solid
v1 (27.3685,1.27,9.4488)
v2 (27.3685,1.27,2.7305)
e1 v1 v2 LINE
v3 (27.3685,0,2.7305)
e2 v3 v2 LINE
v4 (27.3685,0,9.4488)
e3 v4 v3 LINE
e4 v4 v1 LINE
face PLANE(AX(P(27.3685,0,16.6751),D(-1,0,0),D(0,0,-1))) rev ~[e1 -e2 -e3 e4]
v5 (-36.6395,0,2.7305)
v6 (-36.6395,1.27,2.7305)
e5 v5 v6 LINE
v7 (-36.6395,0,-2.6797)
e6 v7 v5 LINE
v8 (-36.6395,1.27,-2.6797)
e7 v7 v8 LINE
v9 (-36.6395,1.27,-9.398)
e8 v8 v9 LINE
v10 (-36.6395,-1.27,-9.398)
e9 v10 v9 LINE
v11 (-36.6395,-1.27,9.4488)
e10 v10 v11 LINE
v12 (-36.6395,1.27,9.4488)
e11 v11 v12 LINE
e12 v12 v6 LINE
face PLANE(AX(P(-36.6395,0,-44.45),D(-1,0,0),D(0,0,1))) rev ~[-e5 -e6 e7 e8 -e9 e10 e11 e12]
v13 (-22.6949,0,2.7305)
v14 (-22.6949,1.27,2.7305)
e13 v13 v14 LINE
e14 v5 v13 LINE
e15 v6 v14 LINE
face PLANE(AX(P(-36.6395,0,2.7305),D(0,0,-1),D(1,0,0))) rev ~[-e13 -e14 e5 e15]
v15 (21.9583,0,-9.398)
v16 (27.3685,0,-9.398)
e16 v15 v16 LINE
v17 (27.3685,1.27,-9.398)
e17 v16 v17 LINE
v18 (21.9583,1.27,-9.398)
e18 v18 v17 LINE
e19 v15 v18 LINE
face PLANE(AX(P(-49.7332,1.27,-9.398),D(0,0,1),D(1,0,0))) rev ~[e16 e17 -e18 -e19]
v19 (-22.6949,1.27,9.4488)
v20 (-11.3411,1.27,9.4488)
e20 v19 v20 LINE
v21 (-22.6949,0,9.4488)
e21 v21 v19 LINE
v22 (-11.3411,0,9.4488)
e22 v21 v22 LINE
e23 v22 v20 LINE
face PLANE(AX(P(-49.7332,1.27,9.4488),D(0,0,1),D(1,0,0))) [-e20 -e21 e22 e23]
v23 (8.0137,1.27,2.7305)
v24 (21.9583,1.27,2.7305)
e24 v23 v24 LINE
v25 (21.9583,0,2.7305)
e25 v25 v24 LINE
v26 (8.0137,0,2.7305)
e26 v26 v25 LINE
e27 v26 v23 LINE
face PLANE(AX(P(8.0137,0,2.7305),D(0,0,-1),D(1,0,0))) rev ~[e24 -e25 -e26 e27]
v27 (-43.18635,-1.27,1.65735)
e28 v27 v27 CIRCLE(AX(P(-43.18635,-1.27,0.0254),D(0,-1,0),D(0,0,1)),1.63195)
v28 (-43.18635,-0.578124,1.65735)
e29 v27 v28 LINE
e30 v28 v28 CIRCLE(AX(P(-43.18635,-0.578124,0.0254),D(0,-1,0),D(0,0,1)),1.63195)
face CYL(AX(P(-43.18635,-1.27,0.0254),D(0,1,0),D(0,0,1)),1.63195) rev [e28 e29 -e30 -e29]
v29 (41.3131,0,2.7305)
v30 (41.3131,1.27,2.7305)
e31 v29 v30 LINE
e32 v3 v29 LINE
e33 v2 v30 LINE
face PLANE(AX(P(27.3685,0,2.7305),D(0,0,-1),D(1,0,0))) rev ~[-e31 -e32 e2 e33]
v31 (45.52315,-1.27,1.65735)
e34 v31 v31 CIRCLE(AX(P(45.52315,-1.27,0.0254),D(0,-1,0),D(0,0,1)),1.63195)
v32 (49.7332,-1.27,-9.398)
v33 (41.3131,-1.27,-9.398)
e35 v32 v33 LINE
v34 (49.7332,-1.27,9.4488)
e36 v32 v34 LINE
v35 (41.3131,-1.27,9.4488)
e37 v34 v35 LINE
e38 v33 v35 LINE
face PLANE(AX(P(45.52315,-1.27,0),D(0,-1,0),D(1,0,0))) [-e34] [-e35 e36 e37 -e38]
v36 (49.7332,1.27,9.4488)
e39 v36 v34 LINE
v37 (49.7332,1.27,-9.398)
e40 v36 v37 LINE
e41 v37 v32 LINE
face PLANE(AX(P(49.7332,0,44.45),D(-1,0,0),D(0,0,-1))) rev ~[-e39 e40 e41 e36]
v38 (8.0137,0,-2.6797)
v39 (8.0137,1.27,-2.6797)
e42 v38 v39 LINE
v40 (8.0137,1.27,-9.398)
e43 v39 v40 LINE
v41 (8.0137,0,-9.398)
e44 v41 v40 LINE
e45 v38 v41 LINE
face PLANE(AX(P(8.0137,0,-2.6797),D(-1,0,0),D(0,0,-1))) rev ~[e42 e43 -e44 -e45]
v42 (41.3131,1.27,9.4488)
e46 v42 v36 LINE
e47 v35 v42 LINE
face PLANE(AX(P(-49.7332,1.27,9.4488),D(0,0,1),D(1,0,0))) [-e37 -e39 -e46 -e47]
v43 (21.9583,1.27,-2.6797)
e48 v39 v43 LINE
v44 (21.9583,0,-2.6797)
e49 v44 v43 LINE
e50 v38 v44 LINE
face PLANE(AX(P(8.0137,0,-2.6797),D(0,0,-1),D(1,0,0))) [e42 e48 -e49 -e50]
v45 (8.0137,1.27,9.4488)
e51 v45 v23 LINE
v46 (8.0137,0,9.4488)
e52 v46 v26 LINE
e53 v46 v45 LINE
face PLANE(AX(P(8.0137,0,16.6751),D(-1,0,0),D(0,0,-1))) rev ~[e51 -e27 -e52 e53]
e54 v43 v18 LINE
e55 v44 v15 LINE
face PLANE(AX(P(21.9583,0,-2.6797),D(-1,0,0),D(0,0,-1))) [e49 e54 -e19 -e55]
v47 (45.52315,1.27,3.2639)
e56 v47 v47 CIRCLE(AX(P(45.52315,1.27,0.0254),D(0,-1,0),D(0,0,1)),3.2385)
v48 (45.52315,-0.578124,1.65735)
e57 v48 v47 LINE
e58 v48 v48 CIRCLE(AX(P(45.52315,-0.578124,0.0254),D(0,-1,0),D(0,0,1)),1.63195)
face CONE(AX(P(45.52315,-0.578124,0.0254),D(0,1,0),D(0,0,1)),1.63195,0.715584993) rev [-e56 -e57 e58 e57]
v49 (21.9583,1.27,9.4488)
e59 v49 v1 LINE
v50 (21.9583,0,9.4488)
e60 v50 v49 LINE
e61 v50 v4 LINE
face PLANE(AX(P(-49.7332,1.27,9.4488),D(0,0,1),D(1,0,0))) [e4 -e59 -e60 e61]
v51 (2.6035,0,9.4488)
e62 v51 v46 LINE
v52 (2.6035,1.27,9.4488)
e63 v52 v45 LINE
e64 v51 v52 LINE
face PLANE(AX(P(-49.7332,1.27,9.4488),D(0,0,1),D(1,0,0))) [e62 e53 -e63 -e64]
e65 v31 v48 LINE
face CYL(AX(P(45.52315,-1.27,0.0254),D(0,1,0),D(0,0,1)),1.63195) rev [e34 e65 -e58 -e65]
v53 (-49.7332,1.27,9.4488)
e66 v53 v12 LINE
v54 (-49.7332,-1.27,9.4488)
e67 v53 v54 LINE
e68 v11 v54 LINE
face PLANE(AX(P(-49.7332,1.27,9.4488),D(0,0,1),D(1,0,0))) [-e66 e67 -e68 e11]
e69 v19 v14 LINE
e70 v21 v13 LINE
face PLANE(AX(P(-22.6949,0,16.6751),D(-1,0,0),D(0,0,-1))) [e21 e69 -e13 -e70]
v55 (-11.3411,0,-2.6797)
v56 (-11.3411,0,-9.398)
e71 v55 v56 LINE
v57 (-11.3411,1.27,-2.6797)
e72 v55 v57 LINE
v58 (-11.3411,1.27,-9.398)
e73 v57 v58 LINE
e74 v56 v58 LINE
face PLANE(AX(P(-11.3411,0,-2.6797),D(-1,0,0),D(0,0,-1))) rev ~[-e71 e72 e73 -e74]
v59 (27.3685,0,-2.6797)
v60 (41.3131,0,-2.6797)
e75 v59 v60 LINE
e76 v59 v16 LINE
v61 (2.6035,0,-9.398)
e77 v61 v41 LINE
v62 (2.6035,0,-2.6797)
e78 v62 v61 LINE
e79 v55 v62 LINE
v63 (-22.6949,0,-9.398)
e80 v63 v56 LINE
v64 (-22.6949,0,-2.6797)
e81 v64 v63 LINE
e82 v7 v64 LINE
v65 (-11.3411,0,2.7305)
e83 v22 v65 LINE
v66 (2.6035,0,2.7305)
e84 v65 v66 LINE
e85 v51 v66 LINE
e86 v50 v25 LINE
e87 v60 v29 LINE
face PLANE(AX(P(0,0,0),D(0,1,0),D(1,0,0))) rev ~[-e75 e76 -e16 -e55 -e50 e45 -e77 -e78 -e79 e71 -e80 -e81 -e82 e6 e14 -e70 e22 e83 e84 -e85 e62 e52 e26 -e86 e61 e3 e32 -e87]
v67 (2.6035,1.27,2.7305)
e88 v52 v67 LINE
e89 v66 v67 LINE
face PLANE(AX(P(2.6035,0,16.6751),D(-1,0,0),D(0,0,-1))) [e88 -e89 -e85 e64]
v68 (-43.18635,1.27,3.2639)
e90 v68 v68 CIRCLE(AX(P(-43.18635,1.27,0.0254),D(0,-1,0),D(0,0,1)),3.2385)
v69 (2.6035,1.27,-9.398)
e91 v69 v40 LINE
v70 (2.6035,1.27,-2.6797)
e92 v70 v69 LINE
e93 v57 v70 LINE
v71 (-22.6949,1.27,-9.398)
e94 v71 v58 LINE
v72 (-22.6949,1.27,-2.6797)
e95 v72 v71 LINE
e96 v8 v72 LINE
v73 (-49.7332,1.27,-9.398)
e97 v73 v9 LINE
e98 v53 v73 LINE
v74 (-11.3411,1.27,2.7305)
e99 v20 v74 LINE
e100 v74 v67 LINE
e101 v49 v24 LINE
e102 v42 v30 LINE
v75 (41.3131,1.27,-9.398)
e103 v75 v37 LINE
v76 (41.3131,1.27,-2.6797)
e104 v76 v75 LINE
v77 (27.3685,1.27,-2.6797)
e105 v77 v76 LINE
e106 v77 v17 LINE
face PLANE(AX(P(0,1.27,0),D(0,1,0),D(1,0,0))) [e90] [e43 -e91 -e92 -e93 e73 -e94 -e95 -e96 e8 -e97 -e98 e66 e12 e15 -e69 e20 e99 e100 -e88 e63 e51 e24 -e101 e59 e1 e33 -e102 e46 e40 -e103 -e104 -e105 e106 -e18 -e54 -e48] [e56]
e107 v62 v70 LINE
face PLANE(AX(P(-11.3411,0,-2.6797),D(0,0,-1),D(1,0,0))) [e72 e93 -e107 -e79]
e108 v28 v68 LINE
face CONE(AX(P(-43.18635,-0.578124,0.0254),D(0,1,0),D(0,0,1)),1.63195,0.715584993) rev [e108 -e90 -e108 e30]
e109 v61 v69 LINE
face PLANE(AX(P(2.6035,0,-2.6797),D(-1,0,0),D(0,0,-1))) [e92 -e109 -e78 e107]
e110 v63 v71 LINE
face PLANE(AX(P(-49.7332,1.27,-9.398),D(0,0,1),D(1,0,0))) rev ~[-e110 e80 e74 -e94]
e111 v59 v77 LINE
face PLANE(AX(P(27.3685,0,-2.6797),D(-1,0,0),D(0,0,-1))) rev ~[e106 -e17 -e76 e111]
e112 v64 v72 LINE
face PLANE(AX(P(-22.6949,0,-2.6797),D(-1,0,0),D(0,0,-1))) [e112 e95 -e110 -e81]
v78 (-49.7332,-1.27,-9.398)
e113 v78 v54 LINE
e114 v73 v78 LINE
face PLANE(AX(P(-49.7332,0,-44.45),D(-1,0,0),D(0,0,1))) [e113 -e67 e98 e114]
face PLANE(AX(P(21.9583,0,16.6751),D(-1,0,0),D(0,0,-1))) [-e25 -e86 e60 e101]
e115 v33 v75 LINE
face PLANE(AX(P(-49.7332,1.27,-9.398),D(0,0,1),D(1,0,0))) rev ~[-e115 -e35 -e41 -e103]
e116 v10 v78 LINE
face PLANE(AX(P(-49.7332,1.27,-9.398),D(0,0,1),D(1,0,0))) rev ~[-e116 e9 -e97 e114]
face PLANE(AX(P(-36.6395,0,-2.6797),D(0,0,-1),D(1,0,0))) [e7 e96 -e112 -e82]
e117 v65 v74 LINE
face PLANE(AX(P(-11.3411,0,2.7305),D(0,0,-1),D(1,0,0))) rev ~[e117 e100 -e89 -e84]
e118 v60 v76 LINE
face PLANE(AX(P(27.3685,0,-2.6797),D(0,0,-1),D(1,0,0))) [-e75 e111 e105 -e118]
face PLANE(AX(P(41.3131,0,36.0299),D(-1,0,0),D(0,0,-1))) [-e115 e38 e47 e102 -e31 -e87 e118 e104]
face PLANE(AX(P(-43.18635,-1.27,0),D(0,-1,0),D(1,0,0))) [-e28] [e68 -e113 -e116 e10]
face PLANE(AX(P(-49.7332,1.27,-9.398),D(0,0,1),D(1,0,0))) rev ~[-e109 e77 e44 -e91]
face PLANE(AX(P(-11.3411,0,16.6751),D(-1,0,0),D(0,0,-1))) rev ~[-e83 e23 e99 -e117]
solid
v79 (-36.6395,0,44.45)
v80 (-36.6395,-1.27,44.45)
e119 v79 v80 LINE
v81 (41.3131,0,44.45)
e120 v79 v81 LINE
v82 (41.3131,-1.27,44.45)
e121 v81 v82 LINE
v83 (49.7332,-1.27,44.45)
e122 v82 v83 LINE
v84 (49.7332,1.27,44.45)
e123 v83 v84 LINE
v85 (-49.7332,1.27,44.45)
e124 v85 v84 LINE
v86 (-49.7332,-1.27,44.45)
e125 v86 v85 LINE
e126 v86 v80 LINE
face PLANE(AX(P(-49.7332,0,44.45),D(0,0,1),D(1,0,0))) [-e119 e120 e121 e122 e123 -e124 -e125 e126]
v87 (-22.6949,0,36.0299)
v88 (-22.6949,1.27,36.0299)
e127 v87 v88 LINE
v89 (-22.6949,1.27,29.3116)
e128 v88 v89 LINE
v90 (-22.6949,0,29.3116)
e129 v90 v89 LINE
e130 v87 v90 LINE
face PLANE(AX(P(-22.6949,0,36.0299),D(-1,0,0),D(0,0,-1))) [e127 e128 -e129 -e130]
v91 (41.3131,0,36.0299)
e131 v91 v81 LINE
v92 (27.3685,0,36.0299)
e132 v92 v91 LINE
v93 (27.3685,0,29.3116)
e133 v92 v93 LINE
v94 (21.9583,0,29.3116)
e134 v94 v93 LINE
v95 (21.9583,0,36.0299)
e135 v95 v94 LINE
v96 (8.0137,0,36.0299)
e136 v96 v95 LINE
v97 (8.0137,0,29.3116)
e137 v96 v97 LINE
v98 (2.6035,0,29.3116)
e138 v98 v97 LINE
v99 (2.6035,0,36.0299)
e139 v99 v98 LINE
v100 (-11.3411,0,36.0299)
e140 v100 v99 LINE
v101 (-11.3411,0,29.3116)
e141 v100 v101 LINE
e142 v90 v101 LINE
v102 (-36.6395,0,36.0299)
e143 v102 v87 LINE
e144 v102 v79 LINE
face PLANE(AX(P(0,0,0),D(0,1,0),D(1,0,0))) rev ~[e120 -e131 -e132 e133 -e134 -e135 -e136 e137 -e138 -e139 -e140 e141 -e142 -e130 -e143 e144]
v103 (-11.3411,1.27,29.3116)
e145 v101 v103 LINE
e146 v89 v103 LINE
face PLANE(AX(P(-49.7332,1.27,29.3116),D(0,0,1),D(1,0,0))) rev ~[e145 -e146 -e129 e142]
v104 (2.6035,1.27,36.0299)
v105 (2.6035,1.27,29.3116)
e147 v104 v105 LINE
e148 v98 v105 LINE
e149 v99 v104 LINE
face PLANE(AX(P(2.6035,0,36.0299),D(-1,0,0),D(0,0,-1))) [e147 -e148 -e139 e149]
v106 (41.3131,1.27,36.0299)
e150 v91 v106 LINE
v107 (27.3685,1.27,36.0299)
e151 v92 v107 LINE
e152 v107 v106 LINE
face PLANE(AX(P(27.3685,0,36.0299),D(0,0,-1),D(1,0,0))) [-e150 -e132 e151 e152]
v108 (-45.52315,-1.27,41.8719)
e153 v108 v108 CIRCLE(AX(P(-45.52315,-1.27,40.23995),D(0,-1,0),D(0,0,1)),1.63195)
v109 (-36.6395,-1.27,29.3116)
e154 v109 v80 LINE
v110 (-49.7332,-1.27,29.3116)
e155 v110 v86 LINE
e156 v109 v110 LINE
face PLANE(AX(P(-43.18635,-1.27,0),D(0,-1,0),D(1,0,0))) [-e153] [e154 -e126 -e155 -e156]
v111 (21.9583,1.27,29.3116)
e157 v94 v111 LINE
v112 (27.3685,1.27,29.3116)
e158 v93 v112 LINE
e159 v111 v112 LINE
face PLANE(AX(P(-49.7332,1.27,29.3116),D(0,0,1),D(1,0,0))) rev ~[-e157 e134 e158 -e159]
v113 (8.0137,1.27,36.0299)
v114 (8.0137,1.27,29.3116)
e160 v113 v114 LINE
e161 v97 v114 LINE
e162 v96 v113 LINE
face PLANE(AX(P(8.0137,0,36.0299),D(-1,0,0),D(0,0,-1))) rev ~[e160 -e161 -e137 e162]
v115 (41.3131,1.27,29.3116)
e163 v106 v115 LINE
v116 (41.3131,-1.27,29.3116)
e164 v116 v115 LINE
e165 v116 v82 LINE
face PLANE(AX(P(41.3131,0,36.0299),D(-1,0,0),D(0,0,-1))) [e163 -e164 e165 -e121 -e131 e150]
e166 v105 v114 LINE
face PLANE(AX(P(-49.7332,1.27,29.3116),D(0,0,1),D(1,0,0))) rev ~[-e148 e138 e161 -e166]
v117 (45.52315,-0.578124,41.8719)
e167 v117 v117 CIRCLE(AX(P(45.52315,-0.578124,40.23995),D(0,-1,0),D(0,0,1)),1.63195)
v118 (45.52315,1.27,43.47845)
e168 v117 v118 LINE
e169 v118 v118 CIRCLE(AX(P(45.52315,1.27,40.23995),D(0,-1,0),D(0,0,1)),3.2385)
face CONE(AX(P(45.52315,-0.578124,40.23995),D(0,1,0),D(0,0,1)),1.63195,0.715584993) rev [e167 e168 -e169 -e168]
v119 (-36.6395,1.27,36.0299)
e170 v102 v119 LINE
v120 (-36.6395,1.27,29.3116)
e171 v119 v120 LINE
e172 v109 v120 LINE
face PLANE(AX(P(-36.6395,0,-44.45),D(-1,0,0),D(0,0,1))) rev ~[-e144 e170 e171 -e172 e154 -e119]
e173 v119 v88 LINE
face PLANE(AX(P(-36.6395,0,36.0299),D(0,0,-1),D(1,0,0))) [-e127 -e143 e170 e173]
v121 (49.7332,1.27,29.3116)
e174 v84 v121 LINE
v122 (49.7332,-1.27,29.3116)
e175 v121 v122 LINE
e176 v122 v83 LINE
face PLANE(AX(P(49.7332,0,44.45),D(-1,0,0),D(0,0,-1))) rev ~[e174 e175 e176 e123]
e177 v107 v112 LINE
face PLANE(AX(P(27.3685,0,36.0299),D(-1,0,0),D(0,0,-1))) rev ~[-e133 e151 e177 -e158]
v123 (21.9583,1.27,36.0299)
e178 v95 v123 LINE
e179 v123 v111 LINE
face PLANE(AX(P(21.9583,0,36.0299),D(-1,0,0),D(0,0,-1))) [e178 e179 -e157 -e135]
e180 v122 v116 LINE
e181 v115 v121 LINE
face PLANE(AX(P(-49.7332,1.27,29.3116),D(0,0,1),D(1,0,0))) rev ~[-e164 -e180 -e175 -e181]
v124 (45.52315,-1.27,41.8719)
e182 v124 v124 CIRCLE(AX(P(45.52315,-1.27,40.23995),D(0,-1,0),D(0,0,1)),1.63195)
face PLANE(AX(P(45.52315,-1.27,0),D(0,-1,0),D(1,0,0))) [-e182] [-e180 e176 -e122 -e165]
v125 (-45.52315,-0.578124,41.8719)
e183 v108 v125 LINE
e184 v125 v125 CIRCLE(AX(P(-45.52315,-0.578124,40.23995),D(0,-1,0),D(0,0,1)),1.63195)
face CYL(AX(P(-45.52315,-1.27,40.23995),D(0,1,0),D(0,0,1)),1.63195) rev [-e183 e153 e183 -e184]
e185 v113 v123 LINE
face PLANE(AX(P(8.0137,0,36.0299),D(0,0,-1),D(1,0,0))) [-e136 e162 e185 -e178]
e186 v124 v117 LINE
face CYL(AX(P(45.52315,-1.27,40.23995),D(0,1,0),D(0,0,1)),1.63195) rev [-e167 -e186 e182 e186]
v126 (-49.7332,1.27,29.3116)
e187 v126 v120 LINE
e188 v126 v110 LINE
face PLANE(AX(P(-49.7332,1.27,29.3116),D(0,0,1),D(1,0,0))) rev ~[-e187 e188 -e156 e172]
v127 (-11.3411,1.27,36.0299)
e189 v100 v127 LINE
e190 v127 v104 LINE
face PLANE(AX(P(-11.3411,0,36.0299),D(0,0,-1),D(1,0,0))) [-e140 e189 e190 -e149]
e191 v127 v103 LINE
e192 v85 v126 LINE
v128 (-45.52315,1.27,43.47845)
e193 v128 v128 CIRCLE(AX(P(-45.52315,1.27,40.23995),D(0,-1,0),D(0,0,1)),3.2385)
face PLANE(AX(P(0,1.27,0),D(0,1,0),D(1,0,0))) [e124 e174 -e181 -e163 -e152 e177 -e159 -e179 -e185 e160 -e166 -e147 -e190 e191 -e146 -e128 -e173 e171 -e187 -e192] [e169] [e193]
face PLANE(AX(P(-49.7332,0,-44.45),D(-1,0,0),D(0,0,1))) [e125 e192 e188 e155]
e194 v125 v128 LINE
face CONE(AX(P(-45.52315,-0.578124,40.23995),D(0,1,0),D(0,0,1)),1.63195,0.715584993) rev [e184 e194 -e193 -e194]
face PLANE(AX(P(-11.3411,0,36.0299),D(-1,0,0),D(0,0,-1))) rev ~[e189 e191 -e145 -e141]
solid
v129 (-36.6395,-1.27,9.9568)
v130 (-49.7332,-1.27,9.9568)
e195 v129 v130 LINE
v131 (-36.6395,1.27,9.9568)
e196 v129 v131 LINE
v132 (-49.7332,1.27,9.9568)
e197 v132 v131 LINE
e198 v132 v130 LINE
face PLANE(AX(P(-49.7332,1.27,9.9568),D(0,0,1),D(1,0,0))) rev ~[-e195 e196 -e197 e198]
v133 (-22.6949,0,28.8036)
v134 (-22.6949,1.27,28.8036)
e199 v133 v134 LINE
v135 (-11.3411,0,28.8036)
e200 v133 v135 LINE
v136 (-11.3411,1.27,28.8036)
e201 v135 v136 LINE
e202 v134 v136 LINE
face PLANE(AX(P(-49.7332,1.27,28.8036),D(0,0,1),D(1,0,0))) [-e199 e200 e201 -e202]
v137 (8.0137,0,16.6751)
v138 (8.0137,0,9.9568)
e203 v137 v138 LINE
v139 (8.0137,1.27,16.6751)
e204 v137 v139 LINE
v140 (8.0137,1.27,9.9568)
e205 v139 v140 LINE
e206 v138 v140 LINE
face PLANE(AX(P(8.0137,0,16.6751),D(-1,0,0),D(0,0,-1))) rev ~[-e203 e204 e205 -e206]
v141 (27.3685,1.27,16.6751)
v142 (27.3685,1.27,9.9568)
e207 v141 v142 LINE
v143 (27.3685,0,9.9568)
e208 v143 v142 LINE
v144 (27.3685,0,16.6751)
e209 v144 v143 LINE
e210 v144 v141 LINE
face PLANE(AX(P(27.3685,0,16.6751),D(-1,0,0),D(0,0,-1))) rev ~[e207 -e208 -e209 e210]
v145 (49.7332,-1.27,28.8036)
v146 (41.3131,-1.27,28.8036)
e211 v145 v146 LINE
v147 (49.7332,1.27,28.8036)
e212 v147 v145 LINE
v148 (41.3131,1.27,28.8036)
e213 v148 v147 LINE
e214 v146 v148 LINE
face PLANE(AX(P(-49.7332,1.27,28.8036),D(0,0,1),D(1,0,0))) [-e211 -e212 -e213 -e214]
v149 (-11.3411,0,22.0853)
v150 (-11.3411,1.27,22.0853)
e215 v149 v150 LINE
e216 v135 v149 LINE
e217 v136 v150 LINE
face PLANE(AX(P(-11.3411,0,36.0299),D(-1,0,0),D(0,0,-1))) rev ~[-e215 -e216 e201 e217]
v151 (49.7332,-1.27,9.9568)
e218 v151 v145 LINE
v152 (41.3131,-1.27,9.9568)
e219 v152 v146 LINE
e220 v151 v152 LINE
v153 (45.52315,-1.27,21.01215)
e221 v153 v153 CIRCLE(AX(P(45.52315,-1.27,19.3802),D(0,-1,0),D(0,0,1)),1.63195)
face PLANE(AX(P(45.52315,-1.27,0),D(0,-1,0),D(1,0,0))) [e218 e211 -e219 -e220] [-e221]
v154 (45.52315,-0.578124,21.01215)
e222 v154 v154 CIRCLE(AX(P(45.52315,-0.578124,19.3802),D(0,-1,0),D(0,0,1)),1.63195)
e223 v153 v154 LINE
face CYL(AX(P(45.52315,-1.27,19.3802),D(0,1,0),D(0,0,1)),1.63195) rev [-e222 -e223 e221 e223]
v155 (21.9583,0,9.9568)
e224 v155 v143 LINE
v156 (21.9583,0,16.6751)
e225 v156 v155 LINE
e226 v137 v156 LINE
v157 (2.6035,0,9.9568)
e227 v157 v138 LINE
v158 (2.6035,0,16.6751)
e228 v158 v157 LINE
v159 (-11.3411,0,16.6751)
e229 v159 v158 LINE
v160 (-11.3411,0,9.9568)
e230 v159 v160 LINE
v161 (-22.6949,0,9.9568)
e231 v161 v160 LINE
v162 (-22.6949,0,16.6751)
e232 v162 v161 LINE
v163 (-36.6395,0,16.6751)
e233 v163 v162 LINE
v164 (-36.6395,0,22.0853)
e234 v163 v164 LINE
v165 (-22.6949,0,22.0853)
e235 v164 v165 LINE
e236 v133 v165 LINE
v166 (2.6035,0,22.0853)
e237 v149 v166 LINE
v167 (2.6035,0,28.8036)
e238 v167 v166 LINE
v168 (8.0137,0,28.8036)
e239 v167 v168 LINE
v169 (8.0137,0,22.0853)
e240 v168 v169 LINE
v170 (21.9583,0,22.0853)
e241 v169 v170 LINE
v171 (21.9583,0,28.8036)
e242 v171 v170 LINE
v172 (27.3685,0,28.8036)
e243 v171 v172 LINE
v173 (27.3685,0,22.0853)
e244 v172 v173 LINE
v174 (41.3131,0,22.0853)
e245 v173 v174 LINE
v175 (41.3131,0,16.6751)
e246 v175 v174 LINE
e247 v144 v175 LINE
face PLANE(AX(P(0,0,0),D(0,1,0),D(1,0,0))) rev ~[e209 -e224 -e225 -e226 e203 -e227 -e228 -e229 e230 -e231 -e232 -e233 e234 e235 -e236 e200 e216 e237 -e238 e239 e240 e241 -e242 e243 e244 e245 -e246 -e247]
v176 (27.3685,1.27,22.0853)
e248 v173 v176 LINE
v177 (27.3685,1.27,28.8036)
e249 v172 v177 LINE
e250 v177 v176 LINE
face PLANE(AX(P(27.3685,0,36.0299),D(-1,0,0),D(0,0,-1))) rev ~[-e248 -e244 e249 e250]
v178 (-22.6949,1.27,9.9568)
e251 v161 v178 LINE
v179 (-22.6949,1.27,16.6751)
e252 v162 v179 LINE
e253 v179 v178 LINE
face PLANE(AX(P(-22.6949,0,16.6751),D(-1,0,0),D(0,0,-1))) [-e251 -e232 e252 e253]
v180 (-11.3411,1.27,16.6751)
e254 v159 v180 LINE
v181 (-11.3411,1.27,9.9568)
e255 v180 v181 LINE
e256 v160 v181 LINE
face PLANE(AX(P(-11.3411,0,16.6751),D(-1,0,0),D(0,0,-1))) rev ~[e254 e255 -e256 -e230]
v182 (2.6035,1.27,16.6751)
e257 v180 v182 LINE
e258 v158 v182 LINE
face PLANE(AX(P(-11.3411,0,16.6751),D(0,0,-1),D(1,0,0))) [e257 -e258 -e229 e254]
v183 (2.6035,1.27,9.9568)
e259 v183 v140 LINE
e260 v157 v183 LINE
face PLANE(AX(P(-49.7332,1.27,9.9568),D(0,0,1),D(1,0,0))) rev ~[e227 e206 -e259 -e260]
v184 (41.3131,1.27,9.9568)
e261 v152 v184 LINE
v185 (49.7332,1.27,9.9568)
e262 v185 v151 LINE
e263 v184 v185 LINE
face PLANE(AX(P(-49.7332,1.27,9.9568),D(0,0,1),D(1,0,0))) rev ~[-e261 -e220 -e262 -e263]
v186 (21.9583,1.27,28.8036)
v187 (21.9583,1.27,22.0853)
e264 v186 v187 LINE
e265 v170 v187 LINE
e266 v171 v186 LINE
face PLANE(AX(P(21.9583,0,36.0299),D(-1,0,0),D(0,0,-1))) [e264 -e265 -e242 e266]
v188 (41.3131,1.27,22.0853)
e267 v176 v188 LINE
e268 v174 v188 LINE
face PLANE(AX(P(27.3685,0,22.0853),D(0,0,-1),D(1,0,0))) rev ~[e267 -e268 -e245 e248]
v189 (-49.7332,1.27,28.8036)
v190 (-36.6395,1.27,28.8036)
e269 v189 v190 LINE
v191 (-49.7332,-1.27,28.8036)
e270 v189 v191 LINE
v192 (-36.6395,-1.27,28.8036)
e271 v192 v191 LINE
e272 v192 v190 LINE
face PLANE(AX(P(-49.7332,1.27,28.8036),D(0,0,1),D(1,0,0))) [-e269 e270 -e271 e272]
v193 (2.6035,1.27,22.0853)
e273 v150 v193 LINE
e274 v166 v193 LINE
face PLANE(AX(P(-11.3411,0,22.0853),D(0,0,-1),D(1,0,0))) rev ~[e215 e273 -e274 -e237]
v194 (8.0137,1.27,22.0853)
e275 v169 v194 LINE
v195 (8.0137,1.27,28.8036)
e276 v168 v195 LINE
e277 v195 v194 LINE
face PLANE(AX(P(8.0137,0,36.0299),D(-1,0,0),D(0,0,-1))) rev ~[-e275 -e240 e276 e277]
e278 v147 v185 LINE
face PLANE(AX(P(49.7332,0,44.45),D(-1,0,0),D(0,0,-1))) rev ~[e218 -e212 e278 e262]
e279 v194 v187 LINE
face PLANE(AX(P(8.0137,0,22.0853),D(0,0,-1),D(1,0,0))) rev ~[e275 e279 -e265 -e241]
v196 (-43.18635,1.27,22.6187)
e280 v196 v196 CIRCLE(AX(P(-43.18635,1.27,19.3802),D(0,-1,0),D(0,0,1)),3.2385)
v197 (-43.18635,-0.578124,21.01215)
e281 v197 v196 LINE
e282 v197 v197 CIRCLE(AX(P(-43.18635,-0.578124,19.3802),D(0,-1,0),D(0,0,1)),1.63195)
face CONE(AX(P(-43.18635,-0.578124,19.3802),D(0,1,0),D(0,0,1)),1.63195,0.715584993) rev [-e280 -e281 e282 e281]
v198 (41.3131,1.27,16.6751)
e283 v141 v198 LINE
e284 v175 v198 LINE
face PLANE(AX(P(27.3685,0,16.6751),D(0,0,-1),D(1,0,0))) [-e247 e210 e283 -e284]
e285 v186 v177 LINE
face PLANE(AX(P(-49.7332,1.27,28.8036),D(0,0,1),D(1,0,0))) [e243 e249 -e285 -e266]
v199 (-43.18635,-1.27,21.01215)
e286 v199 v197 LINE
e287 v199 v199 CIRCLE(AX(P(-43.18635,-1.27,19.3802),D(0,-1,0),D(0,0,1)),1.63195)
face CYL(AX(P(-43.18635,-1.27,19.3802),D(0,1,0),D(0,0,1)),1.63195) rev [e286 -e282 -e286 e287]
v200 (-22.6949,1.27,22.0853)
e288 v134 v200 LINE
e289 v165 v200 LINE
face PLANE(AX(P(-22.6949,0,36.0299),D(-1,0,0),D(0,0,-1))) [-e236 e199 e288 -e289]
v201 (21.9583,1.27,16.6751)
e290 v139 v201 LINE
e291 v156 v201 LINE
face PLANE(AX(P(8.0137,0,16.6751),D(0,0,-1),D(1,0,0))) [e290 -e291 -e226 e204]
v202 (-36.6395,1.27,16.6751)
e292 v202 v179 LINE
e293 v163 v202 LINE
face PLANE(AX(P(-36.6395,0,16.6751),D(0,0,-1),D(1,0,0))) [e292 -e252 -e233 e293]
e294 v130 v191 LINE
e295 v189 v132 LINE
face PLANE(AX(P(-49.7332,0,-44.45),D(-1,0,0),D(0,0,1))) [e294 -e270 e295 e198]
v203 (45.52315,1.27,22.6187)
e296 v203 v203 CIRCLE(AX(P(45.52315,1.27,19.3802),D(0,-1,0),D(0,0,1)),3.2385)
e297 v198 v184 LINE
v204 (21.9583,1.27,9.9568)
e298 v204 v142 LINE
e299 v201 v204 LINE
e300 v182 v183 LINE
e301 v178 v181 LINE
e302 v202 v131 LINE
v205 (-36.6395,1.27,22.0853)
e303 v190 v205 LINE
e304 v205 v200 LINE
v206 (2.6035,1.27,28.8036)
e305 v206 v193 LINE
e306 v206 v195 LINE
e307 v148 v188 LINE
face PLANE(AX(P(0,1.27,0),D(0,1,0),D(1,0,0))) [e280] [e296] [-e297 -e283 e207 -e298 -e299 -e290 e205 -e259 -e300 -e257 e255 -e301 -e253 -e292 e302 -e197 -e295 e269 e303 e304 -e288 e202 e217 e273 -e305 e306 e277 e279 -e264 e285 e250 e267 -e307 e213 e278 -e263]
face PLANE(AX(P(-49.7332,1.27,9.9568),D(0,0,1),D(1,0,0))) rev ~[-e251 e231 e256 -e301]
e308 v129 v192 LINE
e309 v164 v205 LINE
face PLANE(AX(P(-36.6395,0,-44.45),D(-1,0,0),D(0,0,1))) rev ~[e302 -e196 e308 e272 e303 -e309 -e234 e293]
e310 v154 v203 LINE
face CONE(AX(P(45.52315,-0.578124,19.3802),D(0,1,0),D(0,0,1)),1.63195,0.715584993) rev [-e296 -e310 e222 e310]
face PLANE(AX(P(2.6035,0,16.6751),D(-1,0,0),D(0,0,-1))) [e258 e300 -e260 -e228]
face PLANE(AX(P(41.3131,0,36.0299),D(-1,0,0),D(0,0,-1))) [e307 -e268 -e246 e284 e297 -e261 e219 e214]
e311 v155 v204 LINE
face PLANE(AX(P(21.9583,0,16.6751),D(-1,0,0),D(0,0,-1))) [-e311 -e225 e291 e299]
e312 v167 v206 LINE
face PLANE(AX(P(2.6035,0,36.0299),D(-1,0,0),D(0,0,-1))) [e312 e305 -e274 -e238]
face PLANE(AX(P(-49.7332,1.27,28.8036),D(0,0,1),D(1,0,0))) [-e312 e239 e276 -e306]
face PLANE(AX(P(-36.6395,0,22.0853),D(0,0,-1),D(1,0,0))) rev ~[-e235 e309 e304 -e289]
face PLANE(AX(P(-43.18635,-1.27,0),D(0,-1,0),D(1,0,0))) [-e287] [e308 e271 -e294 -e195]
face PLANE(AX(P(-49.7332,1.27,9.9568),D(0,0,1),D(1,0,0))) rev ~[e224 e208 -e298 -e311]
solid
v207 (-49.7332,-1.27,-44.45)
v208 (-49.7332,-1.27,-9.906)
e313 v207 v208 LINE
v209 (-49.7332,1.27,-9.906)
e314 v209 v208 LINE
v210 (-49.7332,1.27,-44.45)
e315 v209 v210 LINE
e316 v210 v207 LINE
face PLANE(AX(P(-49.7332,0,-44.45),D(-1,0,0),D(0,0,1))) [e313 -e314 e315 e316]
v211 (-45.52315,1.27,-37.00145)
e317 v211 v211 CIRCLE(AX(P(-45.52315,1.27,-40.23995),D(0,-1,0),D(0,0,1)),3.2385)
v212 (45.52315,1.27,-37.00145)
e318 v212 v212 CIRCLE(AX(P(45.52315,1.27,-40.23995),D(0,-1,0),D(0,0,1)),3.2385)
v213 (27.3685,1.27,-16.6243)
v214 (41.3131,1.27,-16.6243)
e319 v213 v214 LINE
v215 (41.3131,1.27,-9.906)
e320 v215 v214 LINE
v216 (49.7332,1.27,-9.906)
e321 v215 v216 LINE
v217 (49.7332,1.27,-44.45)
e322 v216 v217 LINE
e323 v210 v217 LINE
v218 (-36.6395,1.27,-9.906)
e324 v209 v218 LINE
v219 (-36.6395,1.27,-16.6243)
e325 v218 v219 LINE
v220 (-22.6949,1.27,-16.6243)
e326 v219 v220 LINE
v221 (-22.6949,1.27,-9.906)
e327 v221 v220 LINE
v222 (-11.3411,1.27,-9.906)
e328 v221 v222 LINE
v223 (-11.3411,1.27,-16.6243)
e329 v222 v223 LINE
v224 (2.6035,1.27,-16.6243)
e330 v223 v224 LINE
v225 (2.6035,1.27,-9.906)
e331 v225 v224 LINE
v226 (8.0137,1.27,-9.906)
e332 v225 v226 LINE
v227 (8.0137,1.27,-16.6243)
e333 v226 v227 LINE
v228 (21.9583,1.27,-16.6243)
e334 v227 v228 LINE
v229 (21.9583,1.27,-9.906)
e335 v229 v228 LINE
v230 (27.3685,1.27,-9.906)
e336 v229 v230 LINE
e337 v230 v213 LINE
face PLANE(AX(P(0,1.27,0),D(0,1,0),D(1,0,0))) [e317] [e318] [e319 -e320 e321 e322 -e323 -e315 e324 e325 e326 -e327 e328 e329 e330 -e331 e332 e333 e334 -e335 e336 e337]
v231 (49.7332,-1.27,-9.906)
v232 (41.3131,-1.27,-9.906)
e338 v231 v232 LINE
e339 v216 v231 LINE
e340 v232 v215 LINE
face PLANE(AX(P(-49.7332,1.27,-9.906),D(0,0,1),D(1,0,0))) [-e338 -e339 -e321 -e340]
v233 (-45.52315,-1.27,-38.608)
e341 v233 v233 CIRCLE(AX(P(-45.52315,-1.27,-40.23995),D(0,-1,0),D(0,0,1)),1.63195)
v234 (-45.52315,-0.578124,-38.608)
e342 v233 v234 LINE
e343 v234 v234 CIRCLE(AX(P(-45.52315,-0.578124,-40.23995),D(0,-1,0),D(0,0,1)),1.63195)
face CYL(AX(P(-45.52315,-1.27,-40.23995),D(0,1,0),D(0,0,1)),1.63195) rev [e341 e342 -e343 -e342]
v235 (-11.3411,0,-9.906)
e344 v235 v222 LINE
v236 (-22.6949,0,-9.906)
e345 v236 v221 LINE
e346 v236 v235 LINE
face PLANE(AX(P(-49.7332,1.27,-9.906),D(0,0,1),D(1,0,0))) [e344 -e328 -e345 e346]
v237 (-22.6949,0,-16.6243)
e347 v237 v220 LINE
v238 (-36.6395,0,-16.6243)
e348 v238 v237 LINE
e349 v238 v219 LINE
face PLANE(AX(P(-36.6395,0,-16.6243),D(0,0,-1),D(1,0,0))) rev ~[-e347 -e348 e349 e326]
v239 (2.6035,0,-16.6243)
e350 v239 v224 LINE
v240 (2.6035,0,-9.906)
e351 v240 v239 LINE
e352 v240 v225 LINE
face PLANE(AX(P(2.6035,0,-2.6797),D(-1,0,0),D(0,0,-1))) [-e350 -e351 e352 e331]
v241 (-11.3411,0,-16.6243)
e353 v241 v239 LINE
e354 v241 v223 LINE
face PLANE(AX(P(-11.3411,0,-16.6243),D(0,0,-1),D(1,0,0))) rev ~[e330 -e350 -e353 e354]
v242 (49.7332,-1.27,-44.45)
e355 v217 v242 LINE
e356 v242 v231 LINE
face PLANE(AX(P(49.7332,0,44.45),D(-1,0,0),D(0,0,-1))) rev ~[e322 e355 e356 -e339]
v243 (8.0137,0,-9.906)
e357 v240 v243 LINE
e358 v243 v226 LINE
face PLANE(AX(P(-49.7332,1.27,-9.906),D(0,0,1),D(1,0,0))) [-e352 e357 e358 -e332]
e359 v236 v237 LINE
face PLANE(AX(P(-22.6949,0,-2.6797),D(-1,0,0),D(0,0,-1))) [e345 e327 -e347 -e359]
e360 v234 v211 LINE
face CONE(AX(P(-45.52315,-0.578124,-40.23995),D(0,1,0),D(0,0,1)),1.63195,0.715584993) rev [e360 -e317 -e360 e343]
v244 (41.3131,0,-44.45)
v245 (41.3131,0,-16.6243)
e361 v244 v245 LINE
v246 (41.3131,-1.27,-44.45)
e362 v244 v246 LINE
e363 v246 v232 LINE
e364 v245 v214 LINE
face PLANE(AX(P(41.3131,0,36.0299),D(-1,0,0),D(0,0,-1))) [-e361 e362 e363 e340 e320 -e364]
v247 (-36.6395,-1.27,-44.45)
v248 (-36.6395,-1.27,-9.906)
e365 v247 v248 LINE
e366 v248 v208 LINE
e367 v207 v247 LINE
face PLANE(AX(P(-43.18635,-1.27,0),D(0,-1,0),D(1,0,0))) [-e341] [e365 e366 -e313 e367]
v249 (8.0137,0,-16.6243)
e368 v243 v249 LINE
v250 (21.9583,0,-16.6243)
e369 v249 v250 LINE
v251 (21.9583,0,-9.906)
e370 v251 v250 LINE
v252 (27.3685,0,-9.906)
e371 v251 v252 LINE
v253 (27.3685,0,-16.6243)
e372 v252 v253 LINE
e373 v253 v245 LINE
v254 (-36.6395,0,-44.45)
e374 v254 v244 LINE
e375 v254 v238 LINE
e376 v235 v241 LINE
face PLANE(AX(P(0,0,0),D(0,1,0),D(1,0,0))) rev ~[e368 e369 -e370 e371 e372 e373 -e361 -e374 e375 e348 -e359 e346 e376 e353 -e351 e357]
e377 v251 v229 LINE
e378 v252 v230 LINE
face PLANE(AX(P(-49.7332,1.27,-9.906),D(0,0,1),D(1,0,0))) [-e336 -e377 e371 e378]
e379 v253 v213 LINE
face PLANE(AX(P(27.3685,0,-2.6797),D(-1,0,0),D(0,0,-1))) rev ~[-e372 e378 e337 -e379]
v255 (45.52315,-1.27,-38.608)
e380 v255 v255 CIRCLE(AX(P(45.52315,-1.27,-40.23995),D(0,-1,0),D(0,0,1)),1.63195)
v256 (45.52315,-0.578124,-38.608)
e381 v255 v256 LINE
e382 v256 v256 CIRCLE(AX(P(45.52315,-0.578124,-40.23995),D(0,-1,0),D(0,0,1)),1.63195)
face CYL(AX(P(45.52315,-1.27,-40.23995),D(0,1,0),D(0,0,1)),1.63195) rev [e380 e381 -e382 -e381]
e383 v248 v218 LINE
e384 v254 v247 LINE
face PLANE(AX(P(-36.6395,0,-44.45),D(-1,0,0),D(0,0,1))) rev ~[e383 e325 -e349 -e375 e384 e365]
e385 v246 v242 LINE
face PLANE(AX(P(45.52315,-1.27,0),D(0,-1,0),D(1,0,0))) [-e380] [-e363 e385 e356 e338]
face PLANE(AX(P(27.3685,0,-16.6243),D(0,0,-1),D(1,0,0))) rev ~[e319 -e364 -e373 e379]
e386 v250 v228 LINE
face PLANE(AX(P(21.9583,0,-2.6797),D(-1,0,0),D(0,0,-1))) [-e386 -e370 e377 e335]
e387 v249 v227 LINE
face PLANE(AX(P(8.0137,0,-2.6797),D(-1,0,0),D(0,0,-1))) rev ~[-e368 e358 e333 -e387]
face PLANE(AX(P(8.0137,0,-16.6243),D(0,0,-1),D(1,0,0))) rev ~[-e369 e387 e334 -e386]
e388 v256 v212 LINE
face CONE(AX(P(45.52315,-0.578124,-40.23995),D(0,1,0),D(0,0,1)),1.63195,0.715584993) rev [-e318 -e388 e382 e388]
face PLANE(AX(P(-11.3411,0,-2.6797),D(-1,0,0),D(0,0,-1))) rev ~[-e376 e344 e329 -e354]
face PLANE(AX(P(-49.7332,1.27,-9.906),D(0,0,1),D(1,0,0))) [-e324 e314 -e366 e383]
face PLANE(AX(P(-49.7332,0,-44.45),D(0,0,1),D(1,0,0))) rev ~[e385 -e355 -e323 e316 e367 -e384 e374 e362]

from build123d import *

# Parameters (mm, degrees)
SKETCH1_W                                     = 99.4664
SKETCH1_H                                     = 88.9
SKETCH1_W_2                                   = 13.9446
SKETCH1_H_2                                   = 13.9446
BOSS_EXTRUDE1_DEPTH                           = 1.27
SKETCH6_W                                     = 13.0937
SKETCH6_H                                     = 88.9
SKETCH6_W_2                                   = 8.4201
BOSS_EXTRUDE2_DEPTH                           = 1.27
SKETCH2_W                                     = 99.4664
SKETCH2_H                                     = 0.508
CUT_EXTRUDE_THIN2_DEPTH                       = 67.750620089
CSK_FOR_4_FLAT_HEAD_SOCKET_CAP_SCREW1_A_COUNT = 2
CSK_FOR_4_FLAT_HEAD_SOCKET_CAP_SCREW1_A_PITCH = 91.0463
CSK_FOR_4_FLAT_HEAD_SOCKET_CAP_SCRE_2_COUNT   = 2
CSK_FOR_4_FLAT_HEAD_SOCKET_CAP_SCRE_2_PITCH   = 121.517254115
CSK_FOR_4_FLAT_HEAD_SOCKET_CAP_SCRE_3_COUNT   = 2
CSK_FOR_4_FLAT_HEAD_SOCKET_CAP_SCRE_3_PITCH   = 80.4799
CSK_FOR_4_FLAT_HEAD_SOCKET_CAP_SCRE_4_COUNT   = 2
CSK_FOR_4_FLAT_HEAD_SOCKET_CAP_SCRE_4_PITCH   = 40.333101106
CSK_FOR_4_FLAT_HEAD_SOCKET_CAP_SCRE_5_COUNT   = 2
CSK_FOR_4_FLAT_HEAD_SOCKET_CAP_SCRE_5_PITCH   = 59.665927633
CSK_FOR_4_FLAT_HEAD_SOCKET_CAP_SCRE_6_COUNT   = 2
CSK_FOR_4_FLAT_HEAD_SOCKET_CAP_SCRE_6_PITCH   = 108.830101671
CSK_FOR_4_FLAT_HEAD_SOCKET_CAP_SCRE_7_COUNT   = 2
CSK_FOR_4_FLAT_HEAD_SOCKET_CAP_SCRE_7_PITCH   = 99.552635095


with BuildPart() as part:
    # Sketch1 → Boss-Extrude1 (new body)
    with BuildSketch(Plane(origin=(0, 0, 0), x_dir=(1, 0, 0), z_dir=(0, 1, 0))):
        Rectangle(SKETCH1_W, SKETCH1_H)
        with Locations((-4.3688, 9.652)):
            Rectangle(SKETCH1_W_2, SKETCH1_H_2, mode=Mode.SUBTRACT)
        with Locations((14.986, 9.652)):
            Rectangle(SKETCH1_W_2, SKETCH1_H_2, mode=Mode.SUBTRACT)
        with Locations((34.3408, 9.652)):
            Rectangle(SKETCH1_W_2, SKETCH1_H_2, mode=Mode.SUBTRACT)
        with Locations((-4.3688, -9.7028)):
            Rectangle(SKETCH1_W_2, SKETCH1_H_2, mode=Mode.SUBTRACT)
        with Locations((14.986, -9.7028)):
            Rectangle(SKETCH1_W_2, SKETCH1_H_2, mode=Mode.SUBTRACT)
        with Locations((34.3408, -9.7028)):
            Rectangle(SKETCH1_W_2, SKETCH1_H_2, mode=Mode.SUBTRACT)
        with Locations((-4.3688, -29.0576)):
            Rectangle(SKETCH1_W_2, SKETCH1_H_2, mode=Mode.SUBTRACT)
        with Locations((14.986, -29.0576)):
            Rectangle(SKETCH1_W_2, SKETCH1_H_2, mode=Mode.SUBTRACT)
        with Locations((34.3408, -29.0576)):
            Rectangle(SKETCH1_W_2, SKETCH1_H_2, mode=Mode.SUBTRACT)
        with Locations((-29.6672, 9.652)):
            Rectangle(SKETCH1_W_2, SKETCH1_H_2, mode=Mode.SUBTRACT)
        with Locations((-29.6672, -9.7028)):
            Rectangle(SKETCH1_W_2, SKETCH1_H_2, mode=Mode.SUBTRACT)
        with Locations((-29.6672, -29.0576)):
            Rectangle(SKETCH1_W_2, SKETCH1_H_2, mode=Mode.SUBTRACT)
    extrude(amount=BOSS_EXTRUDE1_DEPTH)

    # Sketch6 → Boss-Extrude2 (add)
    with BuildSketch(Plane.XZ):
        with Locations((-43.18635, 0)):
            Rectangle(SKETCH6_W, SKETCH6_H)
        with Locations((45.52315, 0)):
            Rectangle(SKETCH6_W_2, SKETCH6_H)
    extrude(amount=BOSS_EXTRUDE2_DEPTH)

    # Sketch2 → Cut-Extrude-Thin2 (cut, through all)
    with BuildSketch(Plane(origin=(0, 1.27, 0), x_dir=(1, 0, 0), z_dir=(0, 1, 0))):
        with Locations((0, 9.652)):
            Rectangle(SKETCH2_W, SKETCH2_H)
        with Locations((0, -9.7028)):
            Rectangle(SKETCH2_W, SKETCH2_H)
        with Locations((0, -29.0576)):
            Rectangle(SKETCH2_W, SKETCH2_H)
    extrude(amount=-CUT_EXTRUDE_THIN2_DEPTH, mode=Mode.SUBTRACT)


with BuildPart() as cut_extrude_thin2_piece_1:
    # of the separate pieces the step leaves, piece 1, a body of its own (cut_extrude_thin2_pieces)
    add(part.part.solids().sort_by_distance((-49.7332, 1.27, -44.45))[0])

    # Sketch7 → CSK for #4 Flat Head Socket Cap Screw1 (revolve, cut)
    with BuildSketch(Plane(origin=(-45.52315, 1.27, -40.23995), x_dir=(0, 0, 1), z_dir=(1, 0, 0))):
        Polygon((0, 0), (0, 2.54), (1.63195, 2.54), (1.63195, 1.848124365), (3.2385, 0), align=None)
    csk_for_4_flat_head_socket_cap_screw1 = revolve(axis=Axis((-45.52315, 7.62, -40.23995), (0, -1, 0)), mode=Mode.SUBTRACT)

    # CSK for #4 Flat Head Socket Cap Screw1 a: CSK for #4 Flat Head Socket Cap Screw1 ×2
    with Locations(*[(i * CSK_FOR_4_FLAT_HEAD_SOCKET_CAP_SCREW1_A_PITCH, 0, 0) for i in range(1, CSK_FOR_4_FLAT_HEAD_SOCKET_CAP_SCREW1_A_COUNT)]):
        add(csk_for_4_flat_head_socket_cap_screw1, mode=Mode.SUBTRACT)


with BuildPart() as cut_extrude_thin2_piece_2:
    # of the separate pieces the step leaves, piece 2, a body of its own (cut_extrude_thin2_pieces)
    add(part.part.solids().sort_by_distance((-49.7332, 1.27, -9.398))[0])

    # CSK for _4 Flat Head Socket Cap Scre 4: CSK for #4 Flat Head Socket Cap Screw1 ×2
    with Locations(*[Vector(0.057937523669032404, 0, 0.9983202108297219) * (i * CSK_FOR_4_FLAT_HEAD_SOCKET_CAP_SCRE_4_PITCH) for i in range(1, CSK_FOR_4_FLAT_HEAD_SOCKET_CAP_SCRE_4_COUNT)]):
        add(csk_for_4_flat_head_socket_cap_screw1, mode=Mode.SUBTRACT)

    # CSK for _4 Flat Head Socket Cap Scre 7: CSK for #4 Flat Head Socket Cap Screw1 ×2
    with Locations(*[Vector(0.9145543954042744, 0, 0.4044629251819284) * (i * CSK_FOR_4_FLAT_HEAD_SOCKET_CAP_SCRE_7_PITCH) for i in range(1, CSK_FOR_4_FLAT_HEAD_SOCKET_CAP_SCRE_7_COUNT)]):
        add(csk_for_4_flat_head_socket_cap_screw1, mode=Mode.SUBTRACT)


with BuildPart() as cut_extrude_thin2_piece_3:
    # of the separate pieces the step leaves, piece 3, a body of its own (cut_extrude_thin2_pieces)
    add(part.part.solids().sort_by_distance((-49.7332, 1.27, 9.9568))[0])

    # CSK for _4 Flat Head Socket Cap Scre 5: CSK for #4 Flat Head Socket Cap Screw1 ×2
    with Locations(*[Vector(0.03916473090618548, 0, 0.9992327676037481) * (i * CSK_FOR_4_FLAT_HEAD_SOCKET_CAP_SCRE_5_PITCH) for i in range(1, CSK_FOR_4_FLAT_HEAD_SOCKET_CAP_SCRE_5_COUNT)]):
        add(csk_for_4_flat_head_socket_cap_screw1, mode=Mode.SUBTRACT)

    # CSK for _4 Flat Head Socket Cap Scre 6: CSK for #4 Flat Head Socket Cap Screw1 ×2
    with Locations(*[Vector(0.8365911508129258, 0, 0.5478277524747213) * (i * CSK_FOR_4_FLAT_HEAD_SOCKET_CAP_SCRE_6_PITCH) for i in range(1, CSK_FOR_4_FLAT_HEAD_SOCKET_CAP_SCRE_6_COUNT)]):
        add(csk_for_4_flat_head_socket_cap_screw1, mode=Mode.SUBTRACT)


with BuildPart() as cut_extrude_thin2_piece_4:
    # of the separate pieces the step leaves, piece 4, a body of its own (cut_extrude_thin2_pieces)
    add(part.part.solids().sort_by_distance((-49.7332, 1.27, 44.45))[0])

    # CSK for _4 Flat Head Socket Cap Scre 2: CSK for #4 Flat Head Socket Cap Screw1 ×2
    with Locations(*[Vector(0.7492458635847796, 0, 0.6622919566936457) * (i * CSK_FOR_4_FLAT_HEAD_SOCKET_CAP_SCRE_2_PITCH) for i in range(1, CSK_FOR_4_FLAT_HEAD_SOCKET_CAP_SCRE_2_COUNT)]):
        add(csk_for_4_flat_head_socket_cap_screw1, mode=Mode.SUBTRACT)

    # CSK for _4 Flat Head Socket Cap Scre 3: CSK for #4 Flat Head Socket Cap Screw1 ×2
    with Locations(*[(0, 0, i * CSK_FOR_4_FLAT_HEAD_SOCKET_CAP_SCRE_3_PITCH) for i in range(1, CSK_FOR_4_FLAT_HEAD_SOCKET_CAP_SCRE_3_COUNT)]):
        add(csk_for_4_flat_head_socket_cap_screw1, mode=Mode.SUBTRACT)


solid = Compound([cut_extrude_thin2_piece_1.part, cut_extrude_thin2_piece_2.part, cut_extrude_thin2_piece_3.part, cut_extrude_thin2_piece_4.part])
